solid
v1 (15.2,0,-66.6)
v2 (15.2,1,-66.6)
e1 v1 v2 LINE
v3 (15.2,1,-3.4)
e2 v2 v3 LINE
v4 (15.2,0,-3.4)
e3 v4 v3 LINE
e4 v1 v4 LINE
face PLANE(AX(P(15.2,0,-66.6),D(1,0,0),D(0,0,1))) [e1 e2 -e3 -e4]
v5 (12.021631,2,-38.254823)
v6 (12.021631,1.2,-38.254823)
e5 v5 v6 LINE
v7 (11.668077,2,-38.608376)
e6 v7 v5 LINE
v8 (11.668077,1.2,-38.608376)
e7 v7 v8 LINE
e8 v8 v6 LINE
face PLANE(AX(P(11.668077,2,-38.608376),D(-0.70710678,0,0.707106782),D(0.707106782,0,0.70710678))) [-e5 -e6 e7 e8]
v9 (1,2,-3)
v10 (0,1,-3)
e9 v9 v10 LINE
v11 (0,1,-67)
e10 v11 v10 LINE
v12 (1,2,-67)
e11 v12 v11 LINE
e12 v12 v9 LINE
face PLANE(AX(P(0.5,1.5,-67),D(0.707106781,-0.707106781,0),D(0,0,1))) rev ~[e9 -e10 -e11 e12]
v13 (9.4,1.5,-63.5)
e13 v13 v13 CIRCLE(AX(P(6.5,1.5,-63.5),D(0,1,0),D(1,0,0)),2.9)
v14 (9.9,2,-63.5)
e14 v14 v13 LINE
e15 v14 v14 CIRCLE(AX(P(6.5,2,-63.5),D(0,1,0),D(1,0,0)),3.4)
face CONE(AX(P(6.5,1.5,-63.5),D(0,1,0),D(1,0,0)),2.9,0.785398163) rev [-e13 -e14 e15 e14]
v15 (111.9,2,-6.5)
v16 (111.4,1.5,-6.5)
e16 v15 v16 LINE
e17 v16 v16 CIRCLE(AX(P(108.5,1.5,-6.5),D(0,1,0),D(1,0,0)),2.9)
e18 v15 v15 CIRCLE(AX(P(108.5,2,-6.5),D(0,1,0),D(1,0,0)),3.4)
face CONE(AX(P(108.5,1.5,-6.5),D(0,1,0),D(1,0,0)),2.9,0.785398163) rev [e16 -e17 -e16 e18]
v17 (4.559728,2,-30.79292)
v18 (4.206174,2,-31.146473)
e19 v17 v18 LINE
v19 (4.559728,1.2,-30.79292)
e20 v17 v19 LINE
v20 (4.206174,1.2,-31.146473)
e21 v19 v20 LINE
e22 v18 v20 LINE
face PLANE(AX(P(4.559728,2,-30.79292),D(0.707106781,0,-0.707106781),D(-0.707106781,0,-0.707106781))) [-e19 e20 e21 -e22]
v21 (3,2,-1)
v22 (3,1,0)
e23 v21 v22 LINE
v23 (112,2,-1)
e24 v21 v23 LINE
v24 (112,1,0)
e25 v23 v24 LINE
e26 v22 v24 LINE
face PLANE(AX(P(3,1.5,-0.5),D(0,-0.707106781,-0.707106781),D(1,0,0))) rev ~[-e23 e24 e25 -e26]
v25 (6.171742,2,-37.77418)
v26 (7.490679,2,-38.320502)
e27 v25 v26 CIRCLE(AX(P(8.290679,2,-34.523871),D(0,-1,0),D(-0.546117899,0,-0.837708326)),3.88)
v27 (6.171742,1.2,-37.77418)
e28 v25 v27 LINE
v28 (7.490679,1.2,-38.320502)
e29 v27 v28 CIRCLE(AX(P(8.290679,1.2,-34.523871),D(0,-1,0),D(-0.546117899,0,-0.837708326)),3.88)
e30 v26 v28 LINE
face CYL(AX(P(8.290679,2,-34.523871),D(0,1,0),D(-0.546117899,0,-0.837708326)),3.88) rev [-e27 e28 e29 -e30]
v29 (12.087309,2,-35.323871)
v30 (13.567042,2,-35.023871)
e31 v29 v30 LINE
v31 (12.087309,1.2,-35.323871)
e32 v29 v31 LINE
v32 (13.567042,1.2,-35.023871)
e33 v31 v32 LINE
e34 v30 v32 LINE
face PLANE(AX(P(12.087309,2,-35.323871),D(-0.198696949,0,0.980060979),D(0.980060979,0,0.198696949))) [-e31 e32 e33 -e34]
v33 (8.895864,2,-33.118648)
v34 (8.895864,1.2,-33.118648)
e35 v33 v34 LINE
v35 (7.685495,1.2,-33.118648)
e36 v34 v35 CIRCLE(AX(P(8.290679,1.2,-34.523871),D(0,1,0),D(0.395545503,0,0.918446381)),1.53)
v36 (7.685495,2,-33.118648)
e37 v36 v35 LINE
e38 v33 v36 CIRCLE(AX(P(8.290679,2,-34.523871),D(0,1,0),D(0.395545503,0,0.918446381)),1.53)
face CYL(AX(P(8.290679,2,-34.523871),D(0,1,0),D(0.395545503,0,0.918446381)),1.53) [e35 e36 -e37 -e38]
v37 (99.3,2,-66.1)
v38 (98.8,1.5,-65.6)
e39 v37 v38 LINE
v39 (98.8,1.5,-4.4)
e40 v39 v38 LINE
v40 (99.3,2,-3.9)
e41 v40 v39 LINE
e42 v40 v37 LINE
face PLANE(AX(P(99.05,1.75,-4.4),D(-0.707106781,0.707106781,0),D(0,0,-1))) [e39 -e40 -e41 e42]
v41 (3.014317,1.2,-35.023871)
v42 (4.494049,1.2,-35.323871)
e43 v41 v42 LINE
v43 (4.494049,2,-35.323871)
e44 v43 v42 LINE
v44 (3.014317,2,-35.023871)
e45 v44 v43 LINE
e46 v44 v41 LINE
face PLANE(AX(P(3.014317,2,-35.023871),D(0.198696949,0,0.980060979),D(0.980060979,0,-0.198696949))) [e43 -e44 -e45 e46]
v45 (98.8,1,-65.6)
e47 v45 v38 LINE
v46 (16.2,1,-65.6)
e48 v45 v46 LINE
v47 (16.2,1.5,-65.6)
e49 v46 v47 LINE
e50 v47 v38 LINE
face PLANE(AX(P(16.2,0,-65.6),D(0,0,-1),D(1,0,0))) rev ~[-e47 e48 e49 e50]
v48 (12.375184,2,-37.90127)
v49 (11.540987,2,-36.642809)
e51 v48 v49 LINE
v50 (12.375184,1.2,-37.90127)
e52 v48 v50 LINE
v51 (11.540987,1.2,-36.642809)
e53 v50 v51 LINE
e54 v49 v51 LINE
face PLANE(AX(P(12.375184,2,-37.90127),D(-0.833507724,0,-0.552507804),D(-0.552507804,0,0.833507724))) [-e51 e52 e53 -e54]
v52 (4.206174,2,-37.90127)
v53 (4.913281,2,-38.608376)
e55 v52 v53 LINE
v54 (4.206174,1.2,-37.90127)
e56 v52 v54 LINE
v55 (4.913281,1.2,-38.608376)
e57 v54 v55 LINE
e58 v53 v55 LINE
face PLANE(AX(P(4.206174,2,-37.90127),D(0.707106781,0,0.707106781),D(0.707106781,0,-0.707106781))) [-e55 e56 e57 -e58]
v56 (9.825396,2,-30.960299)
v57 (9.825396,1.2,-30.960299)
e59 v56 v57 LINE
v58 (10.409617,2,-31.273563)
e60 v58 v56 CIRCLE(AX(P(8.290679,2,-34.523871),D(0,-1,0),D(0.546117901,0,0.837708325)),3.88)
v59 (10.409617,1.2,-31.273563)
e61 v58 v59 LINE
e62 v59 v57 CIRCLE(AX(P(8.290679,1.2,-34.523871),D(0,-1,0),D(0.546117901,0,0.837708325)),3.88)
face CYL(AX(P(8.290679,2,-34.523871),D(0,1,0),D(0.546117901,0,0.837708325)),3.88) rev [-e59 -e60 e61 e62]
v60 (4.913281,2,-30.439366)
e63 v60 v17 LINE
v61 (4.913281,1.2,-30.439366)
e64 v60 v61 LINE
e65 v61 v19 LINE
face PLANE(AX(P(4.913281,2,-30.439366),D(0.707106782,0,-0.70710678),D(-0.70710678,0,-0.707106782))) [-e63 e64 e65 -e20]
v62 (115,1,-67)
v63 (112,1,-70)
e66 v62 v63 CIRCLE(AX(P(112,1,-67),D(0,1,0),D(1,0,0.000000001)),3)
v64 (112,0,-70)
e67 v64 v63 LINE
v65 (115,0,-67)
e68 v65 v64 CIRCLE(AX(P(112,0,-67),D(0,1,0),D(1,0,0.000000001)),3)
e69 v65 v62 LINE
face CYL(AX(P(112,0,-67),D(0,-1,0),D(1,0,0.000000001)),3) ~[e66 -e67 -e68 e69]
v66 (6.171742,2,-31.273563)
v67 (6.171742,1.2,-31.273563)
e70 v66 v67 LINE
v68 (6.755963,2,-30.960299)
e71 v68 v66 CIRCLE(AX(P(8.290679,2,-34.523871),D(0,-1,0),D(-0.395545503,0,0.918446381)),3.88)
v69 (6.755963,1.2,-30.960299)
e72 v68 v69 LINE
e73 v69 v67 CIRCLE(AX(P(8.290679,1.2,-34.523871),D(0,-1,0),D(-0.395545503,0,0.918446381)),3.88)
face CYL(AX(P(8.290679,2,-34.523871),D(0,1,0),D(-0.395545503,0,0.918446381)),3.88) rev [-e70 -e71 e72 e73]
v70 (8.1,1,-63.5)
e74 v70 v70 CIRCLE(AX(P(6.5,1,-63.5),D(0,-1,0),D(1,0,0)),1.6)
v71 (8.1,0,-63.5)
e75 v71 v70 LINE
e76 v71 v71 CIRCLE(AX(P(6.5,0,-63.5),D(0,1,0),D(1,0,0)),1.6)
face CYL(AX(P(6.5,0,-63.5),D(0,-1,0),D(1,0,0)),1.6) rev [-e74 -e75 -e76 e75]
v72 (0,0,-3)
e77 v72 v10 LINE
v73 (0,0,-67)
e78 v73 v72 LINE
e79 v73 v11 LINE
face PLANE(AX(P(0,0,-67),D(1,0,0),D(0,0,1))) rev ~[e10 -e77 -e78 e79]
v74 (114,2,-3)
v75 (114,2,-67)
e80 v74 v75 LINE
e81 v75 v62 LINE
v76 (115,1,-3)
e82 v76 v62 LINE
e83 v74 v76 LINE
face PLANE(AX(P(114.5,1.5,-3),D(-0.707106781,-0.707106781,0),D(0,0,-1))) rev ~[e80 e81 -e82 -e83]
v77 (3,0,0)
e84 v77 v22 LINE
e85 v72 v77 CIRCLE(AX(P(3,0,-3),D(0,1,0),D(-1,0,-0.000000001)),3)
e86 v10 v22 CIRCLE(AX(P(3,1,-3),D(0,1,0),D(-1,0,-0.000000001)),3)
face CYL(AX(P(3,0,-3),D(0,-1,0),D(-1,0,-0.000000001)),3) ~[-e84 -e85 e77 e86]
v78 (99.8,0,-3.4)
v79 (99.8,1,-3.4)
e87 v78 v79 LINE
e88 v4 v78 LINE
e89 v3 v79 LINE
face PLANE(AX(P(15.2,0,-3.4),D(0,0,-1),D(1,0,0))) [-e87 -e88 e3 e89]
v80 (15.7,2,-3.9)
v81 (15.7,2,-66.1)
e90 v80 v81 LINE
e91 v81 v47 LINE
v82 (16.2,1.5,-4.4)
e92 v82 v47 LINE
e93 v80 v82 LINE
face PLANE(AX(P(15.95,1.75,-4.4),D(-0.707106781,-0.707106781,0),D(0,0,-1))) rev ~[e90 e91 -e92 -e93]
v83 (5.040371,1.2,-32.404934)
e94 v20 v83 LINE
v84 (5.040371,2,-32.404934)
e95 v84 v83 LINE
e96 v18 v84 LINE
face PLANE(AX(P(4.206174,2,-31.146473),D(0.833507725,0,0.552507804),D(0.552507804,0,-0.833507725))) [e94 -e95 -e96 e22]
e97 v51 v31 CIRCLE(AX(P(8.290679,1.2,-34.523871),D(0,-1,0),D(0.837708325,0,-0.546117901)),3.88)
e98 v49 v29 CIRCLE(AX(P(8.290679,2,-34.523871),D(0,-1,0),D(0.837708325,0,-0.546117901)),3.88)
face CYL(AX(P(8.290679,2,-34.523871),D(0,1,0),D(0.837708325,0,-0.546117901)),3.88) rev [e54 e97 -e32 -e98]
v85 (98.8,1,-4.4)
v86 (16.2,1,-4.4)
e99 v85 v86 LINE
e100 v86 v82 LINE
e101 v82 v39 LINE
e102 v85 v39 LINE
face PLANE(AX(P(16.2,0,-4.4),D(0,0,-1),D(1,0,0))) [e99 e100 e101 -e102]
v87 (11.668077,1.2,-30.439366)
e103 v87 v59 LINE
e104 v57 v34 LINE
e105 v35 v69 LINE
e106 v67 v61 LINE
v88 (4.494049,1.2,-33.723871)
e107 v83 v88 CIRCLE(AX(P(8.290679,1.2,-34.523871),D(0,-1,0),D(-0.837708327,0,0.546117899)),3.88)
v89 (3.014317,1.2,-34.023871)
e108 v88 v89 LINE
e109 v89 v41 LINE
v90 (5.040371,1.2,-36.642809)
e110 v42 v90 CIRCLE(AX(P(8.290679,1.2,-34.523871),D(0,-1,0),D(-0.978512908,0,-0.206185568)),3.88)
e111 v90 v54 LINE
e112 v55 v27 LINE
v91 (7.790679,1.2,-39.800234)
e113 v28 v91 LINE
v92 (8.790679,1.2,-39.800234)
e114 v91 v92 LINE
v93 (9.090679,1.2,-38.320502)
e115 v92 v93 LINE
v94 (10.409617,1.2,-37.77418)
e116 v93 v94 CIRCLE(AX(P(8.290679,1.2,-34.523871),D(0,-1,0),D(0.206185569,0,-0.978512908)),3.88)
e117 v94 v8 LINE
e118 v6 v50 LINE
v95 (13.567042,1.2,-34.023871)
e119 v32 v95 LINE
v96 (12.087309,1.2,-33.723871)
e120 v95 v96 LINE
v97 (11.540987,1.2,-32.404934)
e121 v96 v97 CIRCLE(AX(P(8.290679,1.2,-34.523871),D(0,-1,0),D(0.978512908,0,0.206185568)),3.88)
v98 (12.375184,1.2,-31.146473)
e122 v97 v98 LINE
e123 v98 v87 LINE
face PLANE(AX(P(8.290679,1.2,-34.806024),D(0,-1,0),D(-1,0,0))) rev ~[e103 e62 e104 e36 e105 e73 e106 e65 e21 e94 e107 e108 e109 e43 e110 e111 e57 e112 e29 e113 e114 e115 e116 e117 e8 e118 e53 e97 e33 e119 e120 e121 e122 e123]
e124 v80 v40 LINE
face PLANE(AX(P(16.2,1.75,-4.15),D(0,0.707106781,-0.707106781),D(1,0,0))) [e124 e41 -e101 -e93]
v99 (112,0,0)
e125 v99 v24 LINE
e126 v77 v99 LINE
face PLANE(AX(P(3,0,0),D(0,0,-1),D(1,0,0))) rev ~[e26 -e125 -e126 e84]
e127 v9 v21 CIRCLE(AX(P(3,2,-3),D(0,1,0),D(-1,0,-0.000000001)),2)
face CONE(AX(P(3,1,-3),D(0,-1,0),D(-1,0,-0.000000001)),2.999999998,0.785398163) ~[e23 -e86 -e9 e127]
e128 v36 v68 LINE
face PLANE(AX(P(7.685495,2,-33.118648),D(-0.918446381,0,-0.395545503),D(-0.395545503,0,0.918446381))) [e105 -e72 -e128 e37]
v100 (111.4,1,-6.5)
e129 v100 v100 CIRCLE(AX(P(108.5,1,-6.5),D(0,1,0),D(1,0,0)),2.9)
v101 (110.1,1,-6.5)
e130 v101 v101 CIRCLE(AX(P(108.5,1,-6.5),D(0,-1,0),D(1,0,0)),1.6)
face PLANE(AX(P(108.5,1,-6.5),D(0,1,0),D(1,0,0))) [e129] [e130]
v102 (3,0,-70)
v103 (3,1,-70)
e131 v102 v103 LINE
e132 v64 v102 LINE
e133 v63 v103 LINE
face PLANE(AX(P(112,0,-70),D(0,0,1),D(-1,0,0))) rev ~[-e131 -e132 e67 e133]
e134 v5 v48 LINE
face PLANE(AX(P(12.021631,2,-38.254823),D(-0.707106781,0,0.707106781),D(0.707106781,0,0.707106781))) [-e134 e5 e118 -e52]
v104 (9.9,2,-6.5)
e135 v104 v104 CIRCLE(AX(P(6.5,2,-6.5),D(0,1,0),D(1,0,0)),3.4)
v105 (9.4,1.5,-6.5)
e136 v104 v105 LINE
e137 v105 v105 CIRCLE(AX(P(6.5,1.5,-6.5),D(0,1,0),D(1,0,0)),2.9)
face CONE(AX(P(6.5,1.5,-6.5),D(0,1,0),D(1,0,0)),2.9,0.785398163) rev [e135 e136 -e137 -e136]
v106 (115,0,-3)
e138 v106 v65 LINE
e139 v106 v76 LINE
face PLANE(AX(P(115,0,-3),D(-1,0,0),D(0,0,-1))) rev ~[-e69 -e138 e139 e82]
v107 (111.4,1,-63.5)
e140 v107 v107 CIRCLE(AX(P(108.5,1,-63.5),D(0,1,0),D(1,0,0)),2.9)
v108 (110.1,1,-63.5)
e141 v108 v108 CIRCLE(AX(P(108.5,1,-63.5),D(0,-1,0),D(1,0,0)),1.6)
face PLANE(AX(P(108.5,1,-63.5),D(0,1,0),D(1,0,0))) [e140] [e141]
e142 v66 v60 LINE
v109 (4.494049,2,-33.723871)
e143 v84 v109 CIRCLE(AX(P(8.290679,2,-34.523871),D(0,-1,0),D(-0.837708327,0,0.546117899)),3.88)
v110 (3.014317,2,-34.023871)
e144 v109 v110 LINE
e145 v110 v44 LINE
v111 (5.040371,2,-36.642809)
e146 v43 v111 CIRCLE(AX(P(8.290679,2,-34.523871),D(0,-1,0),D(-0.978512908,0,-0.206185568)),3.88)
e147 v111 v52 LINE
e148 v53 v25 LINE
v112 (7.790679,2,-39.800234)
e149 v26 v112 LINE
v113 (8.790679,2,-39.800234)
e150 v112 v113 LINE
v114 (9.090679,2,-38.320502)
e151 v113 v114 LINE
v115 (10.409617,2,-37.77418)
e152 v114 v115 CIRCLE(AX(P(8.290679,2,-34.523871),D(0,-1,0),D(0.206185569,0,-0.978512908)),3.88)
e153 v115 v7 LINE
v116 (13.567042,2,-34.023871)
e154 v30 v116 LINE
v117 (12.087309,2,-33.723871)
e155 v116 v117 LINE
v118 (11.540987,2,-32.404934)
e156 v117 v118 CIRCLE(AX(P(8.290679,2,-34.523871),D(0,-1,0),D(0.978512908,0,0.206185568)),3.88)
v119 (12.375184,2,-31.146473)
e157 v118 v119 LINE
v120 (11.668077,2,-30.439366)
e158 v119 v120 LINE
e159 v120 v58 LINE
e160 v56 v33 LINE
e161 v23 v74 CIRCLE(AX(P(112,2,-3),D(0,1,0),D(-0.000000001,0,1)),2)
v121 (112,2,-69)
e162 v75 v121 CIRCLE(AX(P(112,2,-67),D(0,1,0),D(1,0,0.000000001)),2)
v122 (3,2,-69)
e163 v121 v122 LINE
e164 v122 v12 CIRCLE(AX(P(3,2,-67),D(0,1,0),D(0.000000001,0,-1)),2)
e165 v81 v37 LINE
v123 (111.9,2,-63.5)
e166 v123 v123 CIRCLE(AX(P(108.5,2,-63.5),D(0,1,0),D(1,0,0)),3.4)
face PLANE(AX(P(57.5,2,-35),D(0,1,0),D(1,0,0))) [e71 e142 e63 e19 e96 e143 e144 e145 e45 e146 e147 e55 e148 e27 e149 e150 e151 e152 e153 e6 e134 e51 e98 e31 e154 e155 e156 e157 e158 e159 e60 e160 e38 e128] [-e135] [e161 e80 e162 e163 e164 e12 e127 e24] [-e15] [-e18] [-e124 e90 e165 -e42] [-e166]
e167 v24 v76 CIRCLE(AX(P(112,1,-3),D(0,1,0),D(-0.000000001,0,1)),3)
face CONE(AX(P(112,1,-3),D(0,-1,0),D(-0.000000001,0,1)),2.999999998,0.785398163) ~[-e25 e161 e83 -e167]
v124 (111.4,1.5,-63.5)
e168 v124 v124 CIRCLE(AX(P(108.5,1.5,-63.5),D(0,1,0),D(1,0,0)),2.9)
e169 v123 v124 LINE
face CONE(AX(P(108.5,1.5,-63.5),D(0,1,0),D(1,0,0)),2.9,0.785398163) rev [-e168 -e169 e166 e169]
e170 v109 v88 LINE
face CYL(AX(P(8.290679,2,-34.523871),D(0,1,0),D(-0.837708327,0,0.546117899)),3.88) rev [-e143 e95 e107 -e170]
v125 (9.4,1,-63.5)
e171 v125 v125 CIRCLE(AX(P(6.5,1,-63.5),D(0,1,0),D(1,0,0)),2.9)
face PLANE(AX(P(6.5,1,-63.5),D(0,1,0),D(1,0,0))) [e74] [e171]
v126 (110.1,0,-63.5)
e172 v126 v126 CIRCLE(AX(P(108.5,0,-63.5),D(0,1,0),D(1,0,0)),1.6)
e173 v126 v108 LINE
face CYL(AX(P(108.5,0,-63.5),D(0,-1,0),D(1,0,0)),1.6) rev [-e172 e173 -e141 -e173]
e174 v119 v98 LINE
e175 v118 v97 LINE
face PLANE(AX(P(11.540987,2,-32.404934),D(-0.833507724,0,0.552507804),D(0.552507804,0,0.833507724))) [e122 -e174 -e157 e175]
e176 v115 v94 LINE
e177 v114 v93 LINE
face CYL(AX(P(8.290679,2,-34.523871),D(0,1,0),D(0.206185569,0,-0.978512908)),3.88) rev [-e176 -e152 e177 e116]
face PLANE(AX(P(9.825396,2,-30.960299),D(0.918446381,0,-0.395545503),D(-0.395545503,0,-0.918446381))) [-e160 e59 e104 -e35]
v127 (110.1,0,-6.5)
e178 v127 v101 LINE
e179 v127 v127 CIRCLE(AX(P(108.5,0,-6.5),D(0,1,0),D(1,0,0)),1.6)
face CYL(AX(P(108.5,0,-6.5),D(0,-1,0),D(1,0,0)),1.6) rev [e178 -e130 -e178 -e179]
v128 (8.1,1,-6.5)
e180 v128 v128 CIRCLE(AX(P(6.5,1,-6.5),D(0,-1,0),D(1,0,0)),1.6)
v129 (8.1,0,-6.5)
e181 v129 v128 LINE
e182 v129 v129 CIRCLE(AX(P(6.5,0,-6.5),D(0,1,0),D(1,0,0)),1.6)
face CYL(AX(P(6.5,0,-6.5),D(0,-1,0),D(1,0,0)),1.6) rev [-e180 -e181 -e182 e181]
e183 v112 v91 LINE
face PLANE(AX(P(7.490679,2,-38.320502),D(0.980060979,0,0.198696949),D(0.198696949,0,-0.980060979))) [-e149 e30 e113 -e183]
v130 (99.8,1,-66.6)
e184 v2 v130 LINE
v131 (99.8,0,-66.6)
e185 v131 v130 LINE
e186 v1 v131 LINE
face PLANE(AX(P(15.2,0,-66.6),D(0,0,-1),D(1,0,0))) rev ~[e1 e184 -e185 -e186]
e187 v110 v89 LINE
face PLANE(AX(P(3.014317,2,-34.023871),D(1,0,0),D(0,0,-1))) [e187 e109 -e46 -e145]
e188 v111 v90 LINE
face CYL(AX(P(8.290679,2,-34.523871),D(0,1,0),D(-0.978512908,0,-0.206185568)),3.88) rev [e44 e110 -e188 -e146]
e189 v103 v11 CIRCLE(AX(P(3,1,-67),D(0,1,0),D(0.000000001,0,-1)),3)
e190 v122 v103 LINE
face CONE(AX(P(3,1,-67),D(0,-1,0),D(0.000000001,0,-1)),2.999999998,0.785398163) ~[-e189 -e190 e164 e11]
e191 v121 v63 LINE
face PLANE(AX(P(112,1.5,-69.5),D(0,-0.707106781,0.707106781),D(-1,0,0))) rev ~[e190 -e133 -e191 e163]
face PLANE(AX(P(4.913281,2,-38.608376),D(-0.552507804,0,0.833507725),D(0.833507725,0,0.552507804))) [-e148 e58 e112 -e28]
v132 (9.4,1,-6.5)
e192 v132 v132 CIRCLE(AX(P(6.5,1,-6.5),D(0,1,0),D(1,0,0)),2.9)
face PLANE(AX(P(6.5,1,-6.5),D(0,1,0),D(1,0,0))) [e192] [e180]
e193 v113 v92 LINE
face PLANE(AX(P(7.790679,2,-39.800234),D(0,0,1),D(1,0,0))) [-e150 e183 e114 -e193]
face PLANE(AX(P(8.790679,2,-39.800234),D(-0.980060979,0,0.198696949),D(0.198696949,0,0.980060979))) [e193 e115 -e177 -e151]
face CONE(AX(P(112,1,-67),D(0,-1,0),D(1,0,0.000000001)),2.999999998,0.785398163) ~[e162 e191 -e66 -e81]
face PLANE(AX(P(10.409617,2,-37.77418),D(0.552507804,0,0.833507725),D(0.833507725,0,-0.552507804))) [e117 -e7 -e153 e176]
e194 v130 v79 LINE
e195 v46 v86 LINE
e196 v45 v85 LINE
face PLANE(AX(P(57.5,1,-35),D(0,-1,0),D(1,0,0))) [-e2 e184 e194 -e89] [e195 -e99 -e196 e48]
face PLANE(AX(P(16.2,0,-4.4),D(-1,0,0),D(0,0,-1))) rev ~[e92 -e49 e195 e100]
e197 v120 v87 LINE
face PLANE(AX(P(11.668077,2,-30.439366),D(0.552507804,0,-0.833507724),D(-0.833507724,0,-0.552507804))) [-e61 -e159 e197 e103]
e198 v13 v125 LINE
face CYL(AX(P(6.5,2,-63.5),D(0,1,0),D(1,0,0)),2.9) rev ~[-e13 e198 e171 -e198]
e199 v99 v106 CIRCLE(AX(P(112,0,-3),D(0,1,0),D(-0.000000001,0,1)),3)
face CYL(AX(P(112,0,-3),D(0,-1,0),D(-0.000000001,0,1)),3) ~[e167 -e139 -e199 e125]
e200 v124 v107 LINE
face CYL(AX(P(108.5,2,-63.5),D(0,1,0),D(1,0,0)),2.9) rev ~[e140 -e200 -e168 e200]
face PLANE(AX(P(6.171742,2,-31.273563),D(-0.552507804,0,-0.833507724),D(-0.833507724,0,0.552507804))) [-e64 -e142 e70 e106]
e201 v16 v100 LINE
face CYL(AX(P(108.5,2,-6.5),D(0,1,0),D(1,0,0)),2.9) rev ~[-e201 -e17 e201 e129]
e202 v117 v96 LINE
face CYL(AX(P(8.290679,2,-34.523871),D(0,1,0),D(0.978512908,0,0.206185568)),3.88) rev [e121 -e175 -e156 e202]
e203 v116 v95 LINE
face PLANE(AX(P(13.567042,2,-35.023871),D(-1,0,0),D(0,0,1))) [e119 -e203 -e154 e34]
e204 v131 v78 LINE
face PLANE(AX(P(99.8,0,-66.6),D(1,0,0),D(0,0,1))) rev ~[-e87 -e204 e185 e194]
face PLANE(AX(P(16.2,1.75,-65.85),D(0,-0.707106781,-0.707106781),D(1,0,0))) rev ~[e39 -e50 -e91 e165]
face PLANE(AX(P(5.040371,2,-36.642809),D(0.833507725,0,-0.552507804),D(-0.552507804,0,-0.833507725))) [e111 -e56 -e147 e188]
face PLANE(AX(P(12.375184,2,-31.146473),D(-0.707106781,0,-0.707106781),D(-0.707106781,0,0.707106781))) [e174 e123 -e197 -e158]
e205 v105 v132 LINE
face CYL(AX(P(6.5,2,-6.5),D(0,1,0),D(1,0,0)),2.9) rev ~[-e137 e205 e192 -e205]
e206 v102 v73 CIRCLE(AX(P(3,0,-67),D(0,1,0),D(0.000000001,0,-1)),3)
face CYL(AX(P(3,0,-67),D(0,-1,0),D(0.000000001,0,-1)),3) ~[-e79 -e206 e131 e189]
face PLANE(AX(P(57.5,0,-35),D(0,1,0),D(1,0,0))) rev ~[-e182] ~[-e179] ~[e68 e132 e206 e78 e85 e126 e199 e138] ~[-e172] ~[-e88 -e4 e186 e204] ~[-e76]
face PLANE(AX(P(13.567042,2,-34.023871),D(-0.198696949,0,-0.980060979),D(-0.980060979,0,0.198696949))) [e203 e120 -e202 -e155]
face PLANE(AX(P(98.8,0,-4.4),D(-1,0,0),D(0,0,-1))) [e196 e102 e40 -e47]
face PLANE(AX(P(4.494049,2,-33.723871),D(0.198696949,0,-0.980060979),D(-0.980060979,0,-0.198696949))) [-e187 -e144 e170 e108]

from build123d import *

# Parameters (mm, degrees)
SKETCH1_R           = 1.6
SKETCH1_W           = 82.6
SKETCH1_H           = 61.2
BOSS_EXTRUDE1_DEPTH = 2
SKETCH2_W           = 84.6
SKETCH2_H           = 63.2
CUT_EXTRUDE1_DEPTH  = 1
CHAMFER1_SIZE       = 0.5
SKETCH3_R           = 2.9
CUT_EXTRUDE2_DEPTH  = 1
CHAMFER2_SIZE       = 0.5
CHAMFER3_SIZE       = 1
CUT_EXTRUDE3_DEPTH  = 0.8


with BuildPart() as part:
    # Sketch1 → Boss-Extrude1 (new body)
    with BuildSketch(Plane(origin=(0, 0, 0), x_dir=(1, 0, 0), z_dir=(0, 1, 0))):
        with BuildLine():
            Line((3, 0), (112, 0))
            ThreePointArc((112, 0), (114.121320344, 0.878679656), (115, 3))
            Line((115, 3), (115, 67))
            ThreePointArc((115, 67), (114.121320344, 69.121320344), (112, 70))
            Line((112, 70), (3, 70))
            ThreePointArc((3, 70), (0.878679656, 69.121320344), (0, 67))
            Line((0, 67), (0, 3))
            ThreePointArc((0, 3), (0.878679656, 0.878679656), (3, 0))
        make_face()
        with Locations((6.5, 63.5)):
            Circle(SKETCH1_R, mode=Mode.SUBTRACT)
        with Locations((6.5, 6.5)):
            Circle(SKETCH1_R, mode=Mode.SUBTRACT)
        with Locations((108.5, 6.5)):
            Circle(SKETCH1_R, mode=Mode.SUBTRACT)
        with Locations((108.5, 63.5)):
            Circle(SKETCH1_R, mode=Mode.SUBTRACT)
        with Locations((57.5, 35)):
            Rectangle(SKETCH1_W, SKETCH1_H, mode=Mode.SUBTRACT)
    extrude(amount=BOSS_EXTRUDE1_DEPTH)

    # Sketch2 → Cut-Extrude1 (cut)
    with BuildSketch(Plane.XZ):
        with Locations((57.5, -35)):
            Rectangle(SKETCH2_W, SKETCH2_H)
    extrude(amount=-CUT_EXTRUDE1_DEPTH, mode=Mode.SUBTRACT)

    # Chamfer1
    chamfer1_edges = [part.edges().sort_by_distance(p)[0] for p in [
        (16.2, 2, -35),
        (57.5, 2, -4.4),
        (98.8, 2, -35),
        (57.5, 2, -65.6),
    ]]
    chamfer(chamfer1_edges, length=CHAMFER1_SIZE)

    # Sketch3 → Cut-Extrude2 (cut)
    with BuildSketch(Plane(origin=(0, 2, 0), x_dir=(1, 0, 0), z_dir=(0, 1, 0))):
        with Locations((6.5, 63.5)):
            Circle(SKETCH3_R)
        with Locations((108.5, 63.5)):
            Circle(SKETCH3_R)
        with Locations((108.5, 6.5)):
            Circle(SKETCH3_R)
        with Locations((6.5, 6.5)):
            Circle(SKETCH3_R)
    extrude(amount=-CUT_EXTRUDE2_DEPTH, mode=Mode.SUBTRACT)

    # Chamfer2
    chamfer2_edges = [part.edges().sort_by_distance(p)[0] for p in [
        (105.6, 2, -63.5),
        (3.6, 2, -63.5),
        (3.6, 2, -6.5),
        (105.6, 2, -6.5),
    ]]
    chamfer(chamfer2_edges, length=CHAMFER2_SIZE)

    # Chamfer3
    chamfer3_edges = [part.edges().sort_by_distance(p)[0] for p in [
        (114.121320344, 2, -0.878679656),
        (115, 2, -35),
        (114.121320344, 2, -69.121320344),
        (57.5, 2, -70),
        (0.878679656, 2, -69.121320344),
        (0, 2, -35),
        (0.878679656, 2, -0.878679656),
        (57.5, 2, 0),
    ]]
    chamfer(chamfer3_edges, length=CHAMFER3_SIZE)

    # Sketch4 → Cut-Extrude3 (cut)
    with BuildSketch(Plane(origin=(0, 2, 0), x_dir=(1, 0, 0), z_dir=(0, 1, 0))):
        with BuildLine():
            Line((9.825395701, 30.960299483), (8.89586377, 33.118648479))
            ThreePointArc((8.89586377, 33.118648479), (8.290679151, 36.053871442), (7.685494532, 33.118648479))
            Line((7.685494532, 33.118648479), (6.755962601, 30.960299483))
            ThreePointArc((6.755962601, 30.960299483), (6.457149652, 31.104431492), (6.171741697, 31.273563139))
            Line((6.171741697, 31.273563139), (4.91328092, 30.43936643))
            Line((4.91328092, 30.43936643), (4.55972753, 30.792919821))
            Line((4.55972753, 30.792919821), (4.206174139, 31.146473212))
            Line((4.206174139, 31.146473212), (5.040370847, 32.404933989))
            ThreePointArc((5.040370847, 32.404933989), (4.706026565, 33.039059725), (4.494049066, 33.723871442))
            Line((4.494049066, 33.723871442), (3.014316768, 34.023871442))
            Line((3.014316768, 34.023871442), (3.014316768, 34.523871442))
            Line((3.014316768, 34.523871442), (3.014316768, 35.023871442))
            Line((3.014316768, 35.023871442), (4.494049066, 35.323871442))
            ThreePointArc((4.494049066, 35.323871442), (4.706026565, 36.00868316), (5.040370847, 36.642808896))
            Line((5.040370847, 36.642808896), (4.206174139, 37.901269673))
            Line((4.206174139, 37.901269673), (4.55972753, 38.254823064))
            Line((4.55972753, 38.254823064), (4.91328092, 38.608376454))
            Line((4.91328092, 38.608376454), (6.171741697, 37.774179746))
            ThreePointArc((6.171741697, 37.774179746), (6.805867433, 38.108524028), (7.490679151, 38.320501527))
            Line((7.490679151, 38.320501527), (7.790679151, 39.800233826))
            Line((7.790679151, 39.800233826), (8.290679151, 39.800233826))
            Line((8.290679151, 39.800233826), (8.790679151, 39.800233826))
            Line((8.790679151, 39.800233826), (9.090679151, 38.320501527))
            ThreePointArc((9.090679151, 38.320501527), (9.775490868, 38.108524028), (10.409616604, 37.774179746))
            Line((10.409616604, 37.774179746), (11.668077381, 38.608376454))
            Line((11.668077381, 38.608376454), (12.021630772, 38.254823064))
            Line((12.021630772, 38.254823064), (12.375184163, 37.901269673))
            Line((12.375184163, 37.901269673), (11.540987454, 36.642808896))
            ThreePointArc((11.540987454, 36.642808896), (11.875331737, 36.00868316), (12.087309236, 35.323871442))
            Line((12.087309236, 35.323871442), (13.567041534, 35.023871442))
            Line((13.567041534, 35.023871442), (13.567041534, 34.523871442))
            Line((13.567041534, 34.523871442), (13.567041534, 34.023871442))
            Line((13.567041534, 34.023871442), (12.087309236, 33.723871442))
            ThreePointArc((12.087309236, 33.723871442), (11.875331737, 33.039059725), (11.540987454, 32.404933989))
            Line((11.540987454, 32.404933989), (12.375184163, 31.146473212))
            Line((12.375184163, 31.146473212), (12.021630772, 30.792919821))
            Line((12.021630772, 30.792919821), (11.668077381, 30.43936643))
            Line((11.668077381, 30.43936643), (10.409616604, 31.273563139))
            ThreePointArc((10.409616604, 31.273563139), (10.12420865, 31.104431492), (9.825395701, 30.960299483))
        make_face()
    extrude(amount=-CUT_EXTRUDE3_DEPTH, mode=Mode.SUBTRACT)


solid = part.part
